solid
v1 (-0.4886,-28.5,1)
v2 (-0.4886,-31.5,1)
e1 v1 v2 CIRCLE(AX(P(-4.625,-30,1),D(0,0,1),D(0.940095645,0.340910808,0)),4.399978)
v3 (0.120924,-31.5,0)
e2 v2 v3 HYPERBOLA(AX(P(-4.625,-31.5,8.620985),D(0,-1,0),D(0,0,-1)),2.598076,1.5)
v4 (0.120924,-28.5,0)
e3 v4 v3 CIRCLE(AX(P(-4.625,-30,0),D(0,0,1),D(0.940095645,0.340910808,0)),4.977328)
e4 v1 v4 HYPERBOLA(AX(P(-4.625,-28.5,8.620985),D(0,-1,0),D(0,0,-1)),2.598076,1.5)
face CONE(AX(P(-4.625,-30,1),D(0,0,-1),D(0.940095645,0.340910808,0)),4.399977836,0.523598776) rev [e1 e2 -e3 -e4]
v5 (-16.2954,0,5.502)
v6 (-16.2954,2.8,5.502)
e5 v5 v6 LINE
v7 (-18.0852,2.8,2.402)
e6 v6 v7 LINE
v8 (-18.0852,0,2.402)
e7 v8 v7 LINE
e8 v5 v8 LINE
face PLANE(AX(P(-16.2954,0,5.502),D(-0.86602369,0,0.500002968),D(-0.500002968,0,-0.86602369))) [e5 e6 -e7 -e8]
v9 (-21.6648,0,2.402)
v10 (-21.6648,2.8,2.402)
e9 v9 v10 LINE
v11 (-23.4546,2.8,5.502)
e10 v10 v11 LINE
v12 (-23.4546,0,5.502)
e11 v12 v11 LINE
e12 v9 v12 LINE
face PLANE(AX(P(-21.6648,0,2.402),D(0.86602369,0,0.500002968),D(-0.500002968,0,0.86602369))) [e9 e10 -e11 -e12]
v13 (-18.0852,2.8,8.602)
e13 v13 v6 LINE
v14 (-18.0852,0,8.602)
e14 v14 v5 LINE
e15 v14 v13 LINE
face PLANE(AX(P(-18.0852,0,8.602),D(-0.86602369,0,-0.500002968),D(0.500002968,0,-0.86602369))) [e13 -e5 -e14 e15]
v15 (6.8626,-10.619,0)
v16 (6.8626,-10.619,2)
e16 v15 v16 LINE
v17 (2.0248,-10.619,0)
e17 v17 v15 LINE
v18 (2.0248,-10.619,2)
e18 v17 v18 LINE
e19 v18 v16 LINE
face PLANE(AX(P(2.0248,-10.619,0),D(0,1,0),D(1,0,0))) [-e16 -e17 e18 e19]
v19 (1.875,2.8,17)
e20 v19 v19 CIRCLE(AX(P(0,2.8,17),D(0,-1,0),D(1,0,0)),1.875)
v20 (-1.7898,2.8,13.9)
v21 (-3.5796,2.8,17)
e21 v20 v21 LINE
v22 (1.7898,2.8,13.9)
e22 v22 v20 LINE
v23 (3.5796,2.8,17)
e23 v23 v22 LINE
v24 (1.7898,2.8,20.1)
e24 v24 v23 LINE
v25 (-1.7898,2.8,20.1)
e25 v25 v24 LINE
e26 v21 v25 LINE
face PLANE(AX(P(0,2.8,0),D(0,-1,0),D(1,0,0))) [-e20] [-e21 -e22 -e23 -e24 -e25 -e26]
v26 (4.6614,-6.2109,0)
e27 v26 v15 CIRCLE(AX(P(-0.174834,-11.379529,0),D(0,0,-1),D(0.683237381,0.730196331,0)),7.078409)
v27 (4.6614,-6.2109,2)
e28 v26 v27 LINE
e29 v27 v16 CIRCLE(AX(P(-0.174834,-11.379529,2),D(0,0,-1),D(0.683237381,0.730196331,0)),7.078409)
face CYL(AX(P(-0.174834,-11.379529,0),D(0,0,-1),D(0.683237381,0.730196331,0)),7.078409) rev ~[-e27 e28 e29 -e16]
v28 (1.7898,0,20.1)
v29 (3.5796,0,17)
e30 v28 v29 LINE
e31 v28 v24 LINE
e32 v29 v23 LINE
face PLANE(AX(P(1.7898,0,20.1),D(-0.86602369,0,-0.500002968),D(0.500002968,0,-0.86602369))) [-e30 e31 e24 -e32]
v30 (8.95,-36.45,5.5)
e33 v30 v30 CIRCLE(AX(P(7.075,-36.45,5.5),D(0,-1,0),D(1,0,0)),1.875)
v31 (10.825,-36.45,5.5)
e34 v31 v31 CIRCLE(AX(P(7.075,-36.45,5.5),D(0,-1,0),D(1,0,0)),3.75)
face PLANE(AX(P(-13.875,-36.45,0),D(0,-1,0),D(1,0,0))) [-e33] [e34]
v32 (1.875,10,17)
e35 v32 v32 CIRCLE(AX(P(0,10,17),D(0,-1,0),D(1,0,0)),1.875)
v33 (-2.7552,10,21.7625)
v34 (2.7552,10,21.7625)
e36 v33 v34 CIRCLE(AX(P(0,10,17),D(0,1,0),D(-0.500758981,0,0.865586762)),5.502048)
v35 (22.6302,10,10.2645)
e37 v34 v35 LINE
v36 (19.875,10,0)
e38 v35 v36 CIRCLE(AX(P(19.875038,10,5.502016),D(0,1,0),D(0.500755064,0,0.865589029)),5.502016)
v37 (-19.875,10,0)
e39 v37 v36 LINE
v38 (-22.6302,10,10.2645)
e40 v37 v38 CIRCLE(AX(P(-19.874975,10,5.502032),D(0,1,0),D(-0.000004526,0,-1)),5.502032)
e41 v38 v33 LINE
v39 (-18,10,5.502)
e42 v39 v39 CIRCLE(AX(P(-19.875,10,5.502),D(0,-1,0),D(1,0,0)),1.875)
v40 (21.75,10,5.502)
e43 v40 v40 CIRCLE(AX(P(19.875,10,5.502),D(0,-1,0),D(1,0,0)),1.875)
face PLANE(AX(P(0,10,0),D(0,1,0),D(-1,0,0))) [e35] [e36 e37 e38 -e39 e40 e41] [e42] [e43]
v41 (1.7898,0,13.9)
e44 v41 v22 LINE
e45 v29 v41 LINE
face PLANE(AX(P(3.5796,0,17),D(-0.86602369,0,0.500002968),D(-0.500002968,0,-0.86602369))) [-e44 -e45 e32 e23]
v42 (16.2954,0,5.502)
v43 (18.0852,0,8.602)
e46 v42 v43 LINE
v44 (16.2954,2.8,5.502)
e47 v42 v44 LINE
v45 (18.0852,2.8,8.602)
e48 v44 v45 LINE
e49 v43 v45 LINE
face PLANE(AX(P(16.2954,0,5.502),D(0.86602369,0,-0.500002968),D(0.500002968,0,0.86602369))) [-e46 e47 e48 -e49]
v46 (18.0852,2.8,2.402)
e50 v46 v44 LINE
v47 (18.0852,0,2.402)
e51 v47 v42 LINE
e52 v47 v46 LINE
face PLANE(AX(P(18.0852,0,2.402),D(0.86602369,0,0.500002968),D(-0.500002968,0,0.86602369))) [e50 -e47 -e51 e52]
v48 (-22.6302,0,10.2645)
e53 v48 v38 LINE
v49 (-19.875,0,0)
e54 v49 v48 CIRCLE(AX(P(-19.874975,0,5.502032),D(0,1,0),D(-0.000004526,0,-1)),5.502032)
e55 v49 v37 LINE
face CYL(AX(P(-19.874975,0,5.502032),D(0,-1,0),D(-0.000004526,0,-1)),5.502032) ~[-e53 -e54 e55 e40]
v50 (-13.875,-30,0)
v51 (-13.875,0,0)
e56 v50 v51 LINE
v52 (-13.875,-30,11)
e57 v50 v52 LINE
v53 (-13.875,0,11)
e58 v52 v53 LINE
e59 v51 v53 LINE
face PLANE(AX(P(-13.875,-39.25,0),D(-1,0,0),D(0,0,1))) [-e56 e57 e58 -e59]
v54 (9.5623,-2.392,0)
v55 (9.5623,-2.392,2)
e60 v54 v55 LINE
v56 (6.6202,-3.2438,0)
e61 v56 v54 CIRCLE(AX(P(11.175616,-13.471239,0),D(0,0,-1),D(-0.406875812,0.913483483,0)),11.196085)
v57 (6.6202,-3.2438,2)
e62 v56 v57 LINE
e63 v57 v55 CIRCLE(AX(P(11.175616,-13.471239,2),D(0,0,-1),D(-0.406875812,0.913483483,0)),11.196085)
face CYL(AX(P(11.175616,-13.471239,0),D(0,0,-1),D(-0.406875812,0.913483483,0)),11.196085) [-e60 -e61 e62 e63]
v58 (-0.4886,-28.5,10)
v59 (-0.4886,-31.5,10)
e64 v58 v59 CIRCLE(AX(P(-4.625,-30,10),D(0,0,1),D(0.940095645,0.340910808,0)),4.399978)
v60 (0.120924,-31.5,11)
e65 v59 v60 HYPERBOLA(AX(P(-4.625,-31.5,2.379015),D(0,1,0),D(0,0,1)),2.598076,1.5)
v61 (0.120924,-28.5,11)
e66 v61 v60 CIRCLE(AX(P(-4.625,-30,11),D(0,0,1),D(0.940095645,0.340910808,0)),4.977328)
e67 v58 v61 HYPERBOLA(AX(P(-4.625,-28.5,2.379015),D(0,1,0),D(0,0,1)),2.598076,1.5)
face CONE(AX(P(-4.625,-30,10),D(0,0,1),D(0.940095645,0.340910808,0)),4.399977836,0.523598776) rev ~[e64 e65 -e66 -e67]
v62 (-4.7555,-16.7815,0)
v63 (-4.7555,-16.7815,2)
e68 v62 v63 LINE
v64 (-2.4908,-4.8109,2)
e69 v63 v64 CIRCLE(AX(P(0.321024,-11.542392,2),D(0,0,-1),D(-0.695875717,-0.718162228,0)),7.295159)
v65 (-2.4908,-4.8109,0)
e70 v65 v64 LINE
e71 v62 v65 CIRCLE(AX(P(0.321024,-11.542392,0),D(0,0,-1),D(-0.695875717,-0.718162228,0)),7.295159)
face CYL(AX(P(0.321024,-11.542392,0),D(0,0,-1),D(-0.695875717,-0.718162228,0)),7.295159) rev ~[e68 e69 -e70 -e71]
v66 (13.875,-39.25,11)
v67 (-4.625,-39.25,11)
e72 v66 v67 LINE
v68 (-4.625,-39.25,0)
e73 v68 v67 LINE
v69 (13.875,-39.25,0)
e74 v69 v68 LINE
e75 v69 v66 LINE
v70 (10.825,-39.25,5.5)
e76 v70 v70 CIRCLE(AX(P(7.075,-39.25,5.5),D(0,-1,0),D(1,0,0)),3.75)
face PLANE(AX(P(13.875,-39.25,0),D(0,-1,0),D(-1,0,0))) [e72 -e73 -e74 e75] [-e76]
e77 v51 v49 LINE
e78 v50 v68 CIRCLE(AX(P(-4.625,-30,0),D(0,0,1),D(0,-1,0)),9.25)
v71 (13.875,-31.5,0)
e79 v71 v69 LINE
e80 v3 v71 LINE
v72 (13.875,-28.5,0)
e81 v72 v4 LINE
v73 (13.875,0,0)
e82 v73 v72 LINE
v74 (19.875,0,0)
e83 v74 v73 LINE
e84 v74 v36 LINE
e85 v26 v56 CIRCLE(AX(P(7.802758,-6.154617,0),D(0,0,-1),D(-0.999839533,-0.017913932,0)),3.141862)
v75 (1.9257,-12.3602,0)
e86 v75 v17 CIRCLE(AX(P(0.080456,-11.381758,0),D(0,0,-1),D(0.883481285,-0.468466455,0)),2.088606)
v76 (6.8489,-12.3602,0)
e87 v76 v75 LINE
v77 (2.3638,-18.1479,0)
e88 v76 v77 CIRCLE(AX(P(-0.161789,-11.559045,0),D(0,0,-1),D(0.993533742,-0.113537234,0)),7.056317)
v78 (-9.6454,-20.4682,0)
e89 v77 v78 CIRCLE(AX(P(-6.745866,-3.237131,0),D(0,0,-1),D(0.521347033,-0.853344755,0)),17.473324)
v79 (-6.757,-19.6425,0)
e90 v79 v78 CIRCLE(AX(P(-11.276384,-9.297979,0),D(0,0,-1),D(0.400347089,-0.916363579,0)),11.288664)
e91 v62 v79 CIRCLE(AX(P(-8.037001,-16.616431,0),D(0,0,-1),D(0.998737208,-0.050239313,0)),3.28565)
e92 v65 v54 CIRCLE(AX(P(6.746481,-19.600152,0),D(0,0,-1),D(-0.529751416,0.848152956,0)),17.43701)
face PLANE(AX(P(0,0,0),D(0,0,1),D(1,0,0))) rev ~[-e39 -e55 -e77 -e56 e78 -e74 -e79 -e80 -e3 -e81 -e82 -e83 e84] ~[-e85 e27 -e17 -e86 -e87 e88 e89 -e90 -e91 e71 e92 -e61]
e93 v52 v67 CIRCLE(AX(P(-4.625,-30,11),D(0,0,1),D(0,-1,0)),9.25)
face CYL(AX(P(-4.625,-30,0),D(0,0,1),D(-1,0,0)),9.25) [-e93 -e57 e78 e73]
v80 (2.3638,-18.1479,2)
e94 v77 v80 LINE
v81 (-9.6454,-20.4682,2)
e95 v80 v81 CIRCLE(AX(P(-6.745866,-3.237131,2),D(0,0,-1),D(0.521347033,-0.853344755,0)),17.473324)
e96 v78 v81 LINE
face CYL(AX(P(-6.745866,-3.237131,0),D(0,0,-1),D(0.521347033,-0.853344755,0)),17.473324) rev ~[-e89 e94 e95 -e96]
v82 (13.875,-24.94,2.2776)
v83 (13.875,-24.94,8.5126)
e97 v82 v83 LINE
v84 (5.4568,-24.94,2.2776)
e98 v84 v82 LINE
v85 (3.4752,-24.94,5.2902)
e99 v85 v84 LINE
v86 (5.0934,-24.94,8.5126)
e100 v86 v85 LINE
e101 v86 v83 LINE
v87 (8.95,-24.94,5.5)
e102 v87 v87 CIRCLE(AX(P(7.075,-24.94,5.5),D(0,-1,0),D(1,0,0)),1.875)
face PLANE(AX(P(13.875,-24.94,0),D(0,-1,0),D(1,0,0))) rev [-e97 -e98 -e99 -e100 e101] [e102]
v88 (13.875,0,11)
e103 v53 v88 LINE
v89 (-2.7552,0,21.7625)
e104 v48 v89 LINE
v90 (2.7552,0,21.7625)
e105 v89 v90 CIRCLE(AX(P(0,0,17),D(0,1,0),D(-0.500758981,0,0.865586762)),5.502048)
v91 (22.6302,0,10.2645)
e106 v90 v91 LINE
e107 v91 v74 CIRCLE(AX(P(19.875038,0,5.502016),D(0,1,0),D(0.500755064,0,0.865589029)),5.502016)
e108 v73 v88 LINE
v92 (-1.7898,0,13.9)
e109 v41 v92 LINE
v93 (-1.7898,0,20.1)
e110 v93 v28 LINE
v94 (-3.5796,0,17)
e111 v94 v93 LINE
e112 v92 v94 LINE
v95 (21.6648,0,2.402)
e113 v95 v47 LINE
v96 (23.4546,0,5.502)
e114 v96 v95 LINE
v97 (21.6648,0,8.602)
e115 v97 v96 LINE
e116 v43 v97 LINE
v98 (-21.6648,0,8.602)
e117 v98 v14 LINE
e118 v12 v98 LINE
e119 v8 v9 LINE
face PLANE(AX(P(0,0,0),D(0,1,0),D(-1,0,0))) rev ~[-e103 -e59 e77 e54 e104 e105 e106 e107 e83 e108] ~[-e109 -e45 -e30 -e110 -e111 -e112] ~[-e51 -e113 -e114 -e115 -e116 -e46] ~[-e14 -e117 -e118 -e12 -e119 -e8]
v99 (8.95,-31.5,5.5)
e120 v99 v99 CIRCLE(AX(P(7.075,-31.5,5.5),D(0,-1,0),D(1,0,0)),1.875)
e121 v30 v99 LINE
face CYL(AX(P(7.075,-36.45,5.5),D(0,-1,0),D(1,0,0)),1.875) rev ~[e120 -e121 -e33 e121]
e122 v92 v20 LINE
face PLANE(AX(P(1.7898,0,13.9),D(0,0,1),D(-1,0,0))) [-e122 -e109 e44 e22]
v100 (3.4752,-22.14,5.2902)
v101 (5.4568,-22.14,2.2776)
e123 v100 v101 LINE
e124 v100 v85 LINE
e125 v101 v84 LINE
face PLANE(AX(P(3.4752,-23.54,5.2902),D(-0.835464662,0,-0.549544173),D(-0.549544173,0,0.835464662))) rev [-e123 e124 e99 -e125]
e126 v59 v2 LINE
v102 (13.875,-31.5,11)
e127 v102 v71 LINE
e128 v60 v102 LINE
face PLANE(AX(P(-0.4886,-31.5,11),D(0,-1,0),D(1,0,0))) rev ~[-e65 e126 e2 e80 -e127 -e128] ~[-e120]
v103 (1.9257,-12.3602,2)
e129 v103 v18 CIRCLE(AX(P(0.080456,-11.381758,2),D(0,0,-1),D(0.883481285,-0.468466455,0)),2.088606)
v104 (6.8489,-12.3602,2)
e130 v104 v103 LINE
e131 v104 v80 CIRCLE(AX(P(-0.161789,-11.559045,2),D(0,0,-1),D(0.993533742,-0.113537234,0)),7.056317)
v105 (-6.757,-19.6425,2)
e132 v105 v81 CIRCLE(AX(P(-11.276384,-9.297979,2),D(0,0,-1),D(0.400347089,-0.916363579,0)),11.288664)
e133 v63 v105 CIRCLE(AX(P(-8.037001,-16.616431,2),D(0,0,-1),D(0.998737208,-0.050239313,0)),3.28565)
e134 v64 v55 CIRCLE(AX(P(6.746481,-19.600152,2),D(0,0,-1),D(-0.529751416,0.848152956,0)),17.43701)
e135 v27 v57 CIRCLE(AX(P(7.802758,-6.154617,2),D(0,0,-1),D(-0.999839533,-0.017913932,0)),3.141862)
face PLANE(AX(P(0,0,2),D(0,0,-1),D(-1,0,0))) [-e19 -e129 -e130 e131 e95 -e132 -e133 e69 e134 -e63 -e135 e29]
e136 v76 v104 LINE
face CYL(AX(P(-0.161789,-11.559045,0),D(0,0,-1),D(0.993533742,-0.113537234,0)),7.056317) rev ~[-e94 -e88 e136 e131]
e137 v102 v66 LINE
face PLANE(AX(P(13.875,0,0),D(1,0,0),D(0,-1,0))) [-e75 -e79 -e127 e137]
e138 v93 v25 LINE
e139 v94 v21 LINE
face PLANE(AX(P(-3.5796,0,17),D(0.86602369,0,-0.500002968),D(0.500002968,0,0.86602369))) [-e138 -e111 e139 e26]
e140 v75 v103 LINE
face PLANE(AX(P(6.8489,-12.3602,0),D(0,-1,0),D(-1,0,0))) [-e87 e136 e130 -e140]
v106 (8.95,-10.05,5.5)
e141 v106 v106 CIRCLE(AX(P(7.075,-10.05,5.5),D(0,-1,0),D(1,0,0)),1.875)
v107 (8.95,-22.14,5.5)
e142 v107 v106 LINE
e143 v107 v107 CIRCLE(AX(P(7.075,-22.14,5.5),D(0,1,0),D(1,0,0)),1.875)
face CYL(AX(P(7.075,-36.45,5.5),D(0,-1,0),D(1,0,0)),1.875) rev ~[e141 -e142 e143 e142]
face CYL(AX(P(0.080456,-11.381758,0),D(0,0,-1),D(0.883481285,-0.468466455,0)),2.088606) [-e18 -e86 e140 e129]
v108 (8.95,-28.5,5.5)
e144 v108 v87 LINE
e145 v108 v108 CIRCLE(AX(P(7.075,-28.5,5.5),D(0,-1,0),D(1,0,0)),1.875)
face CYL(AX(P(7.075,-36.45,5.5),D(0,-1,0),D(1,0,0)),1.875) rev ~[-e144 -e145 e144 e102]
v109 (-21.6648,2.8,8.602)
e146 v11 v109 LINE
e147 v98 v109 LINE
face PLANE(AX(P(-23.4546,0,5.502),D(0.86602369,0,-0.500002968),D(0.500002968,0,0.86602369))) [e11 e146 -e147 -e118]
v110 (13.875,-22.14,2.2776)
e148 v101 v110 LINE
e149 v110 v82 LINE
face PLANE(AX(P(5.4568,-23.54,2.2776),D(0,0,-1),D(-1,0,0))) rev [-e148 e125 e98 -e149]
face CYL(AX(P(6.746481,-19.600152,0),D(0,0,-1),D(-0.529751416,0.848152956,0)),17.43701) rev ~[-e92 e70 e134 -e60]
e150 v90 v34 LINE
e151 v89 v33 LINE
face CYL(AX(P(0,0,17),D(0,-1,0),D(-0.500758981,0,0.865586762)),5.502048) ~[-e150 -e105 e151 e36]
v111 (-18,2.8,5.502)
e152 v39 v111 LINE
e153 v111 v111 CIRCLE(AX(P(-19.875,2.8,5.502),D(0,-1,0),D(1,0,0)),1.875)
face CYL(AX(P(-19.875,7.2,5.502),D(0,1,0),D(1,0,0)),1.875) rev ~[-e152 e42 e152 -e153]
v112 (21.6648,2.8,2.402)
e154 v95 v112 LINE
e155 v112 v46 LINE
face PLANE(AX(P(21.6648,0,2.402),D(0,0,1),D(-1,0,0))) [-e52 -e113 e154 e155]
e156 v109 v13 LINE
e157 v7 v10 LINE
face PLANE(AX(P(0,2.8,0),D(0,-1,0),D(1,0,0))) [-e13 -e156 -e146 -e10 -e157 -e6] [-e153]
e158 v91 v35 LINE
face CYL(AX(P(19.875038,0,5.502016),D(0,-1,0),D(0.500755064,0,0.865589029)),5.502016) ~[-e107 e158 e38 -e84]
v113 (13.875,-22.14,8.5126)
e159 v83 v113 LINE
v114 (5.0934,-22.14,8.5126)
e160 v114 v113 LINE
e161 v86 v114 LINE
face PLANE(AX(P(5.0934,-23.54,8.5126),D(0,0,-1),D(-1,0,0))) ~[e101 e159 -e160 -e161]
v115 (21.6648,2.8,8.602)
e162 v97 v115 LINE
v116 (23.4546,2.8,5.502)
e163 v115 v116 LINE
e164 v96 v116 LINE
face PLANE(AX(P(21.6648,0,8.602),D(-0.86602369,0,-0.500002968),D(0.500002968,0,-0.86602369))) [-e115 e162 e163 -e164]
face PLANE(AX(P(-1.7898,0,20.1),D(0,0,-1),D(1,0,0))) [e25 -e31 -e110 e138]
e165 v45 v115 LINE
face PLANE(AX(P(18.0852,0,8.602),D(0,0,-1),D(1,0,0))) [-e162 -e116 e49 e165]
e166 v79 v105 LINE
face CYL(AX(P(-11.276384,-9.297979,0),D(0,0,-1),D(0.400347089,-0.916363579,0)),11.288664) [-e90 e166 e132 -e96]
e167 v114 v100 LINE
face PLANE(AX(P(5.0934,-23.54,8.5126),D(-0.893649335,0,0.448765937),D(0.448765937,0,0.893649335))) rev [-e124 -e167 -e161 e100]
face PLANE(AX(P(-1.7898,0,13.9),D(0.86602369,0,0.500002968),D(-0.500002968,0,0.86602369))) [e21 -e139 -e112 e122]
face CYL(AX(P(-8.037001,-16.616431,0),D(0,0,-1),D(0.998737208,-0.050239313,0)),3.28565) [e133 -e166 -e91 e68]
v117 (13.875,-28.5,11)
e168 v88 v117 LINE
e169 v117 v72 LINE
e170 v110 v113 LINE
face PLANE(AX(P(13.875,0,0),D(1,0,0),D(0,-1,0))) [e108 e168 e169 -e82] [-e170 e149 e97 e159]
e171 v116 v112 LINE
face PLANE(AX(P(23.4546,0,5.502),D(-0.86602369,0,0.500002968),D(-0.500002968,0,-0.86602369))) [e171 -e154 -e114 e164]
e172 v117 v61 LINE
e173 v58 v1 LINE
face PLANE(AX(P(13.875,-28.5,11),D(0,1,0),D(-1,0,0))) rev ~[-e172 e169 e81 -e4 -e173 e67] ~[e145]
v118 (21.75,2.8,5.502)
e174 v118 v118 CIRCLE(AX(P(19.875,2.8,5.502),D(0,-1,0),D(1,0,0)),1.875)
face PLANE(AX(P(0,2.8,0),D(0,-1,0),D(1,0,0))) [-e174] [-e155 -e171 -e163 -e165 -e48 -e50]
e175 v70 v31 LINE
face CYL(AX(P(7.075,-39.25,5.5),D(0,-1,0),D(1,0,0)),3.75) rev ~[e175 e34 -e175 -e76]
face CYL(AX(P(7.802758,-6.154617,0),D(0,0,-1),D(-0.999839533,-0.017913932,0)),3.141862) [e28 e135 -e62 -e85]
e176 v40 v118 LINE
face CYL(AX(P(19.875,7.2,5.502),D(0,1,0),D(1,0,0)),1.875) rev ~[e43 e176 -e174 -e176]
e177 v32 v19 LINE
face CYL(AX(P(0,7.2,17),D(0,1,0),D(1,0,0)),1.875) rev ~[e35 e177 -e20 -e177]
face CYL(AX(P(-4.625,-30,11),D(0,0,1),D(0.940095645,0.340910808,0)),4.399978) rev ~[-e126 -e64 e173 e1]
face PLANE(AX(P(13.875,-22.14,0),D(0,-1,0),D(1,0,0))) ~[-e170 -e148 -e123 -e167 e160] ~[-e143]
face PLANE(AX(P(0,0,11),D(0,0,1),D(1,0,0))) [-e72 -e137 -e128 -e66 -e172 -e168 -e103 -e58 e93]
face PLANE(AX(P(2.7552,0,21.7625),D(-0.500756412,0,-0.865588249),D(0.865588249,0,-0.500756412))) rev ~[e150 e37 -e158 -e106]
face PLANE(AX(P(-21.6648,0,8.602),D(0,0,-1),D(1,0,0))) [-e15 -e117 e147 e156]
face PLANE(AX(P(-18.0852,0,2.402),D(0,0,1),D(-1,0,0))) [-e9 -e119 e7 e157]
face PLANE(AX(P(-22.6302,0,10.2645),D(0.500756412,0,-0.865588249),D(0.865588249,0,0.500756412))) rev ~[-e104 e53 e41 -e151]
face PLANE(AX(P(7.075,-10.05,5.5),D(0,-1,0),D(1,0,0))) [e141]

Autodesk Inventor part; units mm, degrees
sketch "Boceto1" plane through (0, 0, 0) normal (0, 0, 1) x (1, 0, 0)
  line L0 (-13.875, 0) -> (13.875, 0)
  line L1 (13.875, 0) -> (13.875, -39.25)
  line L2 (13.875, -39.25) -> (-13.875, -39.25)
  line L3 (-13.875, -39.25) -> (-13.875, 0)
  point P0 (0, 0)
  point P1 (0, 0)
  dimension "d0" = 27.75
  dimension "d1" = 39.25
extrude "Extrusión1" add sketch "Boceto1" along normal blind 11
sketch "Boceto3" plane through (0, 0, 0) normal (0, 1, 0) x (-1, 0, 0)
  line L0 (-19.875, 0) -> (19.875, 0)
  line L1 (22.6302, 10.2645) -> (2.7552, 21.7625)
  line L2 (-2.7552, 21.7625) -> (-22.6302, 10.2645)
  line L3 (13.875, 0) -> (-13.875, 0) projected
  arc A0 (-22.6302, 10.2645) -> (-19.875, 0) centre (-19.875, 5.502) ccw
  arc A1 (19.875, 0) -> (22.6302, 10.2645) centre (19.875, 5.502) ccw
  arc A2 (2.7552, 21.7625) -> (-2.7552, 21.7625) centre (0, 17) ccw
  point P0 (0, 0)
  point P1 (0, 23.3564)
  point P2 (0, 0)
  point P3 (0, 0)
  point P4 (0, 0)
  point P5 (0, 0)
  dimension "d21" = 30.05
  dimension "d23" = 39.75
  dimension "d25" = 17
extrude "Extrusión3" add sketch "Boceto3" along normal blind 10
ref_plane "Plano de trabajo2" through (0, 7.2, 0) normal (0, 1, 0) x (1, 0, 0)
sketch "Boceto5" plane through (0, 7.2, 0) normal (0, 1, 0) x (1, 0, 0)
  line L0 (19.875, 0) -> (-19.875, 0) projected
  arc A0 (-19.875, 0) -> (-22.6302, -10.2645) centre (-19.875, -5.502) ccw projected
  line L1 (-22.6302, -10.2645) -> (-2.7552, -21.7625) projected
  arc A1 (-2.7552, -21.7625) -> (2.7552, -21.7625) centre (0, -17) ccw projected
  line L2 (2.7552, -21.7625) -> (22.6302, -10.2645) projected
  arc A2 (22.6302, -10.2645) -> (19.875, 0) centre (19.875, -5.502) ccw projected
  circle A3 centre (19.875, -5.502) radius 1.875
  circle A4 centre (0, -17) radius 1.875
  circle A5 centre (-19.875, -5.502) radius 1.875
  point P0 (0, 0)
  dimension "d33" = 3.75
  dimension "d34" = 3.75
  dimension "d35" = 3.75
extrude "Extrusión5" cut sketch "Boceto5" along normal through all both and the other way through all contours A3 | A4 | A5
sketch "Boceto6" plane through (0, 0, 0) normal (0, -1, 0) x (1, 0, 0)
  circle A0 centre (0, 17) radius 1.875 projected
  circle A1 centre (19.875, 5.502) radius 1.875 projected
  circle A2 centre (-19.875, 5.502) radius 1.875 projected
  line L0 (13.875, 0) -> (13.875, 11) projected
  line L1 (19.875, 0) -> (13.875, 0) projected
  arc A3 (19.875, 0) -> (22.6302, 10.2645) centre (19.875, 5.502) ccw projected
  line L2 (2.7552, 21.7625) -> (22.6302, 10.2645) projected
  arc A4 (2.7552, 21.7625) -> (-2.7552, 21.7625) centre (0, 17) ccw projected
  line L3 (-22.6302, 10.2645) -> (-2.7552, 21.7625) projected
  arc A5 (-22.6302, 10.2645) -> (-19.875, 0) centre (-19.875, 5.502) ccw projected
  line L4 (-13.875, 0) -> (-19.875, 0) projected
  line L5 (-13.875, 0) -> (-13.875, 11) projected
  line L6 (13.875, 11) -> (-13.875, 11) projected
  line L7 (-18.0852, 8.602) -> (-16.2954, 5.502)
  line L8 (-16.2954, 5.502) -> (-18.0852, 2.402)
  line L9 (-18.0852, 2.402) -> (-21.6648, 2.402)
  line L10 (-21.6648, 2.402) -> (-23.4546, 5.502)
  line L11 (-23.4546, 5.502) -> (-21.6648, 8.602)
  line L12 (-21.6648, 8.602) -> (-18.0852, 8.602)
  line L13 (1.7898, 20.1) -> (3.5796, 17)
  line L14 (3.5796, 17) -> (1.7898, 13.9)
  line L15 (1.7898, 13.9) -> (-1.7898, 13.9)
  line L16 (-1.7898, 13.9) -> (-3.5796, 17)
  line L17 (-3.5796, 17) -> (-1.7898, 20.1)
  line L18 (-1.7898, 20.1) -> (1.7898, 20.1)
  line L19 (18.0852, 8.602) -> (21.6648, 8.602)
  line L20 (21.6648, 8.602) -> (23.4546, 5.502)
  line L21 (23.4546, 5.502) -> (21.6648, 2.402)
  line L22 (21.6648, 2.402) -> (18.0852, 2.402)
  line L23 (18.0852, 2.402) -> (16.2954, 5.502)
  line L24 (16.2954, 5.502) -> (18.0852, 8.602)
  point P0 (0, 0)
  dimension "d38" = 6.2
  dimension "d39" = 6.2
  dimension "d40" = 6.2
extrude "Extrusión6" cut sketch "Boceto6" against normal blind 2.8 contours L7 L8 L9 L10 L11 L12 | L13 L14 L15 L16 L17 L18 | L19 L20 L21 L22 L23 L24
ref_plane "Plano de trabajo3" through (-13.875, -23.54, 0) normal (0, -1, 0) x (1, 0, 0)
sketch "Boceto9" plane through (-13.875, -23.54, 0) normal (0, -1, 0) x (1, 0, 0)
  circle A0 centre (6.8, 5.5) radius 1.875 projected
  line L0 (27.75, 11) -> (0, 11) projected
  line L1 (0, 0) -> (0, 11) projected
  line L2 (-21.6528, 0) -> (49.4028, 0) projected
  line L3 (8.7816, 8.5126) -> (10.3998, 5.2902)
  line L4 (10.3998, 5.2902) -> (8.4182, 2.2776)
  line L5 (8.7816, 8.5126) -> (0, 8.5126)
  line L6 (8.4182, 2.2776) -> (0, 2.2776)
  point P0 (13.875, 0)
  dimension "d53" = 120
  dimension "d56" = 6.235
  dimension "d57" = 8.7816
extrude "Extrusión9" cut sketch "Boceto9" along normal mid plane 2.8
sketch "Boceto10" plane through (0, 0, 11) normal (0, 0, 1) x (1, 0, 0)
  line L0 (13.875, -39.25) -> (13.875, 0) projected
  line L1 (-13.875, -39.25) -> (13.875, -39.25) projected
  line L2 (13.875, -28.5) -> (-0.4886, -28.5)
  arc A0 (-0.4886, -28.5) -> (-0.4886, -31.5) centre (-4.625, -30) ccw
  line L3 (-0.4886, -31.5) -> (13.875, -31.5)
  line L4 (-13.875, 0) -> (-13.875, -39.25) projected
  point P0 (0, 0)
  point P1 (-9.025, -30)
  point P2 (-5.7641, -34.25)
  dimension "d60" = 1.5
  dimension "d61" = 5
  dimension "d63" = 7.75
  dimension "d64" = 4.4
  dimension "d89" = 18.5
extrude "Extrusión10" cut sketch "Boceto10" against normal through all
mirror "Simetría1" about plane through (0, 0, 0) normal (1, 0, 0) of "Extrusión9"
sketch "Boceto11" plane through (-13.875, -39.25, 0) normal (-1, 0, 0) x (0, 0, 1)
  line L0 (8.5126, 14.31) -> (2.2776, 14.31) projected
  line L1 (8.5126, 17.11) -> (8.5126, 14.31) projected
  line L2 (2.2776, 17.11) -> (8.5126, 17.11) projected
  line L3 (2.2776, 14.31) -> (2.2776, 17.11) projected
  point P0 (0, 39.25)
extrude "Extrusión11" add sketch "Boceto11" against normal up to surface (13.875 mm away)
sketch "Boceto12" plane through (-13.875, -39.25, 0) normal (0, -1, 0) x (1, 0, 0)
  circle A0 centre (20.95, 5.5) radius 3.75
  line L0 (27.75, 0) -> (0, 0) projected
  line L1 (27.75, 0) -> (27.75, 11) projected
  point P0 (13.875, 0)
  dimension "d69" = 7.5
  dimension "d70" = 5.5
  dimension "d71" = 6.8
extrude "Extrusión12" cut sketch "Boceto12" against normal blind 2.8
sketch "Boceto13" plane through (7.075, -36.45, 5.5) normal (0, -1, 0) x (1, 0, 0)
  circle A0 centre (0, 0) radius 3.75 projected
  circle A1 centre (0, 0) radius 1.875
  point P0 (-7.075, -5.5)
  dimension "d74" = 3.75
extrude "Extrusión13" cut sketch "Boceto13" against normal blind 26.4 contours A1
sketch "Boceto14" plane through (0, 0, 0) normal (0, 0, -1) x (-1, 0, 0)
  line L0 (-79.864, -2.1129) -> (-78.9328, -2.1294) construction
  line L1 (-78.9328, -2.1294) -> (-77.7481, -2.2424) construction
  line L2 (-77.7481, -2.2424) -> (-76.5607, -2.4242) construction
  line L3 (-76.5607, -2.4242) -> (-75.3898, -2.6722) construction
  line L4 (-75.3898, -2.6722) -> (-74.2548, -2.9807) construction
  line L5 (-74.3358, -2.9942) -> (-73.2531, -3.3578) construction
  line L6 (-73.2531, -3.3578) -> (-72.242, -3.7683) construction
  line L7 (-72.242, -3.7683) -> (-71.3191, -4.2229) construction
  line L8 (-71.3191, -4.2229) -> (-70.5036, -4.7161) construction
  line L9 (-70.5036, -4.7161) -> (-70.3383, -4.8318) construction
  line L10 (-70.3464, -4.7635) -> (-69.8588, -4.9674) construction
  line L11 (-69.8588, -4.9674) -> (-69.3904, -5.2098) construction
  line L12 (-69.3904, -5.2098) -> (-68.9441, -5.4853) construction
  line L13 (-68.9441, -5.4853) -> (-68.5198, -5.7939) construction
  line L14 (-68.5198, -5.7939) -> (-67.7457, -6.4992) construction
  line L15 (-67.7457, -6.4992) -> (-67.0817, -7.3174) construction
  line L16 (-67.0817, -7.3174) -> (-66.798, -7.761) construction
  line L17 (-66.798, -7.761) -> (-66.5445, -8.2293) construction
  line L18 (-66.5445, -8.2293) -> (-66.3269, -8.717) construction
  line L19 (-66.3269, -8.717) -> (-66.1423, -9.2267) construction
  line L20 (-66.1423, -9.2267) -> (-65.999, -9.7501) construction
  line L21 (-65.999, -9.7501) -> (-65.8834, -10.3584) construction
  line L22 (-65.8834, -10.3584) -> (-65.8614, -10.5512) construction
  line L23 (-65.8614, -10.5512) -> (-70.7846, -10.5512) construction
  line L24 (-70.7846, -10.5512) -> (-70.881, -10.3694) construction
  line L25 (-70.881, -10.3694) -> (-71.1345, -10.0663) construction
  line L26 (-71.1345, -10.0663) -> (-71.4375, -9.8129) construction
  line L27 (-71.4375, -9.8129) -> (-71.7874, -9.6255) construction
  line L28 (-71.7874, -9.6255) -> (-72.1731, -9.5043) construction
  line L29 (-72.1731, -9.5043) -> (-72.5864, -9.463) construction
  line L30 (-72.5864, -9.463) -> (-72.9996, -9.5043) construction
  line L31 (-72.9996, -9.5043) -> (-73.3853, -9.6255) construction
  line L32 (-73.3853, -9.6255) -> (-73.7352, -9.8129) construction
  line L33 (-73.7352, -9.8129) -> (-74.0383, -10.0663) construction
  line L34 (-74.0383, -10.0663) -> (-74.2917, -10.3694) construction
  line L35 (-74.2917, -10.3694) -> (-74.4791, -10.7193) construction
  line L36 (-74.4791, -10.7193) -> (-74.6003, -11.105) construction
  line L37 (-74.6003, -11.105) -> (-74.6416, -11.5182) construction
  line L38 (-74.6416, -11.5182) -> (-74.6003, -11.9315) construction
  line L39 (-74.6003, -11.9315) -> (-74.4791, -12.3172) construction
  line L40 (-74.4791, -12.3172) -> (-74.2917, -12.6671) construction
  line L41 (-74.2917, -12.6671) -> (-74.0383, -12.9701) construction
  line L42 (-74.0383, -12.9701) -> (-73.7352, -13.2209) construction
  line L43 (-73.7352, -13.2209) -> (-73.3853, -13.4109) construction
  line L44 (-73.3853, -13.4109) -> (-72.9996, -13.5294) construction
  line L45 (-72.9996, -13.5294) -> (-72.5864, -13.5707) construction
  line L46 (-72.5864, -13.5707) -> (-72.1731, -13.5294) construction
  line L47 (-72.1731, -13.5294) -> (-71.7874, -13.4109) construction
  line L48 (-71.7874, -13.4109) -> (-71.4375, -13.2209) construction
  line L49 (-71.4375, -13.2209) -> (-71.1345, -12.9701) construction
  line L50 (-71.1345, -12.9701) -> (-70.881, -12.6671) construction
  line L51 (-70.881, -12.6671) -> (-70.6937, -12.3172) construction
  line L52 (-70.6937, -12.3172) -> (-70.6854, -12.2924) construction
  line L53 (-70.6854, -12.2924) -> (-65.8476, -12.2924) construction
  line L54 (-65.8476, -12.2924) -> (-65.9551, -12.9839) construction
  line L55 (-65.9551, -12.9839) -> (-66.1452, -13.6975) construction
  line L56 (-66.1452, -13.6975) -> (-66.4041, -14.378) construction
  line L57 (-66.4041, -14.378) -> (-66.7292, -15.0254) construction
  line L58 (-66.7292, -15.0254) -> (-67.1149, -15.6287) construction
  line L59 (-67.1149, -15.6287) -> (-67.5557, -16.188) construction
  line L60 (-67.5557, -16.188) -> (-68.0489, -16.7004) construction
  line L61 (-68.0489, -16.7004) -> (-68.0379, -16.8327) construction
  line L62 (-68.0379, -16.8327) -> (-67.9772, -17.3561) construction
  line L63 (-67.9772, -17.3561) -> (-67.8726, -17.7914) construction
  line L64 (-67.8726, -17.7914) -> (-67.71, -18.1771) construction
  line L65 (-67.71, -18.1771) -> (-67.4786, -18.5518) construction
  line L66 (-67.4786, -18.5518) -> (-67.1425, -18.9293) construction
  line L67 (-67.1425, -18.9293) -> (-66.7485, -19.2709) construction
  line L68 (-66.7485, -19.2709) -> (-66.0901, -19.6676) construction
  line L69 (-66.0901, -19.6676) -> (-65.3197, -19.9962) construction
  line L70 (-65.3197, -19.9962) -> (-64.4161, -20.2635) construction
  line L71 (-64.4161, -20.2635) -> (-63.3526, -20.4784) construction
  line L72 (-63.3526, -20.4784) -> (-63.1479, -20.5194) construction
  line L73 (-63.1479, -20.5194) -> (-63.1892, -20.5552) construction
  line L74 (-63.1892, -20.5552) -> (-63.8394, -20.7123) construction
  line L75 (-63.8394, -20.7123) -> (-64.6549, -20.8169) construction
  line L76 (-64.6549, -20.8169) -> (-66.4897, -20.8169) construction
  line L77 (-66.4897, -20.8169) -> (-67.6772, -20.704) construction
  line L78 (-67.6772, -20.704) -> (-68.8646, -20.5222) construction
  line L79 (-68.8646, -20.5222) -> (-70.0354, -20.2742) construction
  line L80 (-70.0354, -20.2742) -> (-71.1705, -19.9656) construction
  line L81 (-71.1705, -19.9656) -> (-72.2532, -19.602) construction
  line L82 (-72.2532, -19.602) -> (-73.2643, -19.1915) construction
  line L83 (-73.2643, -19.1915) -> (-74.1872, -18.7369) construction
  line L84 (-74.1872, -18.7369) -> (-75.0027, -18.2438) construction
  line L85 (-75.0027, -18.2438) -> (-75.2011, -18.1005) construction
  line L86 (-75.2011, -18.1005) -> (-75.6805, -17.8911) construction
  line L87 (-75.6805, -17.8911) -> (-76.1433, -17.6487) construction
  line L88 (-76.1433, -17.6487) -> (-77.0001, -17.0618) construction
  line L89 (-77.0001, -17.0618) -> (-77.7605, -16.3566) construction
  line L90 (-77.7605, -16.3566) -> (-78.4134, -15.5438) construction
  line L91 (-78.4134, -15.5438) -> (-78.9424, -14.6347) construction
  line L92 (-78.9424, -14.6347) -> (-79.1573, -14.1498) construction
  line L93 (-79.1573, -14.1498) -> (-79.3364, -13.6456) construction
  line L94 (-79.3364, -13.6456) -> (-79.4796, -13.1277) construction
  line L95 (-79.4796, -13.1277) -> (-79.5816, -12.5904) construction
  line L96 (-79.5816, -12.5904) -> (-79.6449, -12.0422) construction
  line L97 (-79.6449, -12.0422) -> (-79.667, -11.4801) construction
  line L98 (-79.667, -11.4801) -> (-79.6284, -10.7225) construction
  line L99 (-79.6284, -10.7225) -> (-79.5127, -9.9869) construction
  line L100 (-79.5127, -9.9869) -> (-79.3253, -9.2816) construction
  line L101 (-79.3253, -9.2816) -> (-79.0691, -8.6067) construction
  line L102 (-79.0691, -8.6067) -> (-78.7495, -7.9647) construction
  line L103 (-78.7495, -7.9647) -> (-78.3721, -7.3641) construction
  line L104 (-78.3721, -7.3641) -> (-77.9368, -6.8076) construction
  line L105 (-77.9368, -6.8076) -> (-77.4519, -6.2979) construction
  line L106 (-77.4519, -6.2979) -> (-77.4657, -6.1299) construction
  line L107 (-77.4657, -6.1299) -> (-77.5263, -5.6064) construction
  line L108 (-77.5263, -5.6064) -> (-77.6338, -5.1711) construction
  line L109 (-77.6338, -5.1711) -> (-77.7963, -4.7854) construction
  line L110 (-77.7963, -4.7854) -> (-78.0277, -4.4108) construction
  line L111 (-78.0277, -4.4108) -> (-78.3638, -4.0333) construction
  line L112 (-78.3638, -4.0333) -> (-78.8088, -3.6656) construction
  line L113 (-78.8088, -3.6656) -> (-79.4673, -3.2689) construction
  line L114 (-79.4673, -3.2689) -> (-80.1819, -2.9666) construction
  line L115 (-80.1819, -2.9666) -> (-81.0856, -2.6994) construction
  line L116 (-81.0856, -2.6994) -> (-82.149, -2.4845) construction
  line L117 (-82.149, -2.4845) -> (-82.3556, -2.4432) construction
  line L118 (-82.3556, -2.4432) -> (-82.3143, -2.4074) construction
  line L119 (-82.3143, -2.4074) -> (-81.6641, -2.2503) construction
  line L120 (-81.6641, -2.2503) -> (-80.8487, -2.1456) construction
  line L121 (-80.8487, -2.1456) -> (-79.945, -2.1264) construction
  line L122 (-65.8614, -10.5512) -> (-70.7846, -10.5512)
  arc A0 (-70.7846, -10.5512) -> (-70.6854, -12.2924) centre (-72.6298, -11.5297) ccw
  line L123 (-70.6854, -12.2924) -> (-65.8476, -12.2924)
  arc A1 (-68.0489, -16.7004) -> (-65.8476, -12.2924) centre (-72.8859, -11.5313) ccw
  arc A2 (-68.0489, -16.7004) -> (-66.0901, -19.6676) centre (-64.9076, -16.7568) ccw
  arc A3 (-66.0901, -19.6676) -> (-63.1479, -20.5194) centre (-61.5351, -9.4412) ccw
  arc A4 (-75.2011, -18.1005) -> (-63.1479, -20.5194) centre (-65.9638, -3.3112) ccw
  arc A5 (-77.4657, -6.1299) -> (-75.2011, -18.1005) centre (-72.3892, -11.369) ccw
  arc A6 (-77.4657, -6.1299) -> (-79.4673, -3.2689) centre (-80.7471, -6.2949) ccw
  arc A7 (-79.4673, -3.2689) -> (-82.3556, -2.4432) centre (-83.987, -13.6143) ccw
  arc A8 (-70.3464, -4.7635) -> (-82.3556, -2.4432) centre (-79.4561, -19.6741) ccw
  arc A9 (-65.8614, -10.5512) -> (-70.3464, -4.7635) centre (-72.8722, -11.3524) ccw
  line L124 (-50.6216, 1.1163) -> (-50.6216, -28.8837)
  line L125 (-50.6216, 1.1163) -> (-20.6216, 1.1163) construction
  line L126 (-36.3657, -2.4242) -> (-37.5366, -2.6722) construction
  line L127 (-40.6844, -3.7683) -> (-41.6073, -4.2229) construction
  line L128 (-39.6733, -3.3578) -> (-40.6844, -3.7683) construction
  line L129 (-38.5906, -2.9942) -> (-39.6733, -3.3578) construction
  line L130 (-37.5366, -2.6722) -> (-38.6716, -2.9807) construction
  line L131 (-41.6073, -4.2229) -> (-42.4228, -4.7161) construction
  line L132 (-42.4228, -4.7161) -> (-42.5881, -4.8318) construction
  line L133 (-42.58, -4.7635) -> (-43.0676, -4.9674) construction
  line L134 (-43.0676, -4.9674) -> (-43.536, -5.2098) construction
  line L135 (-43.536, -5.2098) -> (-43.9823, -5.4853) construction
  line L136 (-43.9823, -5.4853) -> (-44.4066, -5.7939) construction
  line L137 (-44.4066, -5.7939) -> (-45.1807, -6.4992) construction
  line L138 (-45.1807, -6.4992) -> (-45.8447, -7.3174) construction
  line L139 (-45.8447, -7.3174) -> (-46.1284, -7.761) construction
  line L140 (-46.1284, -7.761) -> (-46.3819, -8.2293) construction
  line L141 (-46.3819, -8.2293) -> (-46.5995, -8.717) construction
  line L142 (-46.5995, -8.717) -> (-46.7841, -9.2267) construction
  line L143 (-46.7841, -9.2267) -> (-46.9274, -9.7501) construction
  line L144 (-46.9274, -9.7501) -> (-47.043, -10.3584) construction
  line L145 (-47.043, -10.3584) -> (-47.065, -10.5512) construction
  line L146 (-42.1418, -10.5512) -> (-42.0454, -10.3694) construction
  line L147 (-40.7533, -9.5043) -> (-40.34, -9.463) construction
  line L148 (-41.139, -9.6255) -> (-40.7533, -9.5043) construction
  line L149 (-41.4889, -9.8129) -> (-41.139, -9.6255) construction
  line L150 (-41.7919, -10.0663) -> (-41.4889, -9.8129) construction
  line L151 (-42.0454, -10.3694) -> (-41.7919, -10.0663) construction
  line L152 (-38.3261, -11.105) -> (-38.2848, -11.5182) construction
  line L153 (-38.2848, -11.5182) -> (-38.3261, -11.9315) construction
  line L154 (-38.3261, -11.9315) -> (-38.4473, -12.3172) construction
  line L155 (-38.4473, -12.3172) -> (-38.6347, -12.6671) construction
  line L156 (-38.4473, -10.7193) -> (-38.3261, -11.105) construction
  line L157 (-38.6347, -12.6671) -> (-38.8881, -12.9701) construction
  line L158 (-38.8881, -12.9701) -> (-39.1912, -13.2209) construction
  line L159 (-39.5411, -13.4109) -> (-39.9268, -13.5294) construction
  line L160 (-39.9268, -13.5294) -> (-40.34, -13.5707) construction
  line L161 (-40.34, -13.5707) -> (-40.7533, -13.5294) construction
  line L162 (-39.1912, -13.2209) -> (-39.5411, -13.4109) construction
  line L163 (-40.7533, -13.5294) -> (-41.139, -13.4109) construction
  line L164 (-41.139, -13.4109) -> (-41.4889, -13.2209) construction
  line L165 (-41.4889, -13.2209) -> (-41.7919, -12.9701) construction
  line L166 (-41.7919, -12.9701) -> (-42.0454, -12.6671) construction
  line L167 (-42.0454, -12.6671) -> (-42.2327, -12.3172) construction
  line L168 (-42.2327, -12.3172) -> (-42.241, -12.2924) construction
  line L169 (-47.0788, -12.2924) -> (-46.9713, -12.9839) construction
  line L170 (-46.9713, -12.9839) -> (-46.7812, -13.6975) construction
  line L171 (-46.7812, -13.6975) -> (-46.5223, -14.378) construction
  line L172 (-46.5223, -14.378) -> (-46.1972, -15.0254) construction
  line L173 (-42.241, -12.2924) -> (-47.0788, -12.2924) construction
  line L174 (-47.065, -10.5512) -> (-42.1418, -10.5512) construction
  line L175 (-46.1972, -15.0254) -> (-45.8115, -15.6287) construction
  line L176 (-45.8115, -15.6287) -> (-45.3707, -16.188) construction
  line L177 (-45.3707, -16.188) -> (-44.8775, -16.7004) construction
  line L178 (-44.8885, -16.8327) -> (-44.9492, -17.3561) construction
  line L179 (-44.9492, -17.3561) -> (-45.0538, -17.7914) construction
  line L180 (-45.0538, -17.7914) -> (-45.2164, -18.1771) construction
  line L181 (-44.8775, -16.7004) -> (-44.8885, -16.8327) construction
  line L182 (-45.2164, -18.1771) -> (-45.4478, -18.5518) construction
  line L183 (-45.4478, -18.5518) -> (-45.7839, -18.9293) construction
  line L184 (-45.7839, -18.9293) -> (-46.1779, -19.2709) construction
  line L185 (-44.0618, -20.5222) -> (-42.891, -20.2742) construction
  line L186 (-45.2492, -20.704) -> (-44.0618, -20.5222) construction
  line L187 (-46.4367, -20.8169) -> (-45.2492, -20.704) construction
  line L188 (-40.34, -9.463) -> (-39.9268, -9.5043) construction
  line L189 (-39.9268, -9.5043) -> (-39.5411, -9.6255) construction
  line L190 (-39.5411, -9.6255) -> (-39.1912, -9.8129) construction
  line L191 (-39.1912, -9.8129) -> (-38.8881, -10.0663) construction
  line L192 (-38.8881, -10.0663) -> (-38.6347, -10.3694) construction
  line L193 (-38.6347, -10.3694) -> (-38.4473, -10.7193) construction
  line L194 (-42.891, -20.2742) -> (-41.7559, -19.9656) construction
  line L195 (-41.7559, -19.9656) -> (-40.6732, -19.602) construction
  line L196 (-40.6732, -19.602) -> (-39.6621, -19.1915) construction
  line L197 (-39.6621, -19.1915) -> (-38.7392, -18.7369) construction
  line L198 (-37.9237, -18.2438) -> (-37.7253, -18.1005) construction
  line L199 (-37.7253, -18.1005) -> (-37.2459, -17.8911) construction
  line L200 (-38.7392, -18.7369) -> (-37.9237, -18.2438) construction
  line L201 (-37.2459, -17.8911) -> (-36.7831, -17.6487) construction
  line L202 (-36.7831, -17.6487) -> (-35.9263, -17.0618) construction
  line L203 (-35.9263, -17.0618) -> (-35.1659, -16.3566) construction
  line L204 (-35.1659, -16.3566) -> (-34.513, -15.5438) construction
  line L205 (-34.513, -15.5438) -> (-33.984, -14.6347) construction
  line L206 (-33.984, -14.6347) -> (-33.7691, -14.1498) construction
  line L207 (-33.7691, -14.1498) -> (-33.59, -13.6456) construction
  line L208 (-33.59, -13.6456) -> (-33.4468, -13.1277) construction
  line L209 (-33.4468, -13.1277) -> (-33.3448, -12.5904) construction
  line L210 (-33.3448, -12.5904) -> (-33.2815, -12.0422) construction
  line L211 (-33.2815, -12.0422) -> (-33.2594, -11.4801) construction
  line L212 (-33.2594, -11.4801) -> (-33.298, -10.7225) construction
  line L213 (-33.298, -10.7225) -> (-33.4137, -9.9869) construction
  line L214 (-33.4137, -9.9869) -> (-33.6011, -9.2816) construction
  line L215 (-33.6011, -9.2816) -> (-33.8573, -8.6067) construction
  line L216 (-33.8573, -8.6067) -> (-34.1769, -7.9647) construction
  line L217 (-34.1769, -7.9647) -> (-34.5543, -7.3641) construction
  line L218 (-34.5543, -7.3641) -> (-34.9896, -6.8076) construction
  line L219 (-33.9936, -2.1294) -> (-35.1783, -2.2424) construction
  line L220 (-35.1783, -2.2424) -> (-36.3657, -2.4242) construction
  line L221 (-34.9896, -6.8076) -> (-35.4745, -6.2979) construction
  line L222 (-35.4745, -6.2979) -> (-35.4607, -6.1299) construction
  line L223 (-35.4607, -6.1299) -> (-35.4001, -5.6064) construction
  line L224 (-35.4001, -5.6064) -> (-35.2926, -5.1711) construction
  line L225 (-35.1301, -4.7854) -> (-34.8987, -4.4108) construction
  line L226 (-34.8987, -4.4108) -> (-34.5626, -4.0333) construction
  line L227 (-34.5626, -4.0333) -> (-34.1176, -3.6656) construction
  line L228 (-35.2926, -5.1711) -> (-35.1301, -4.7854) construction
  line L229 (-33.0624, -2.1129) -> (-33.9936, -2.1294) construction
  line L230 (-34.1176, -3.6656) -> (-33.4591, -3.2689) construction
  line L231 (-33.4591, -3.2689) -> (-32.7445, -2.9666) construction
  line L232 (-32.7445, -2.9666) -> (-31.8408, -2.6994) construction
  line L233 (-32.0777, -2.1456) -> (-32.9814, -2.1264) construction
  line L234 (-46.1779, -19.2709) -> (-46.8363, -19.6676) construction
  line L235 (-46.8363, -19.6676) -> (-47.6067, -19.9962) construction
  line L236 (-48.2715, -20.8169) -> (-46.4367, -20.8169) construction
  line L237 (-47.6067, -19.9962) -> (-48.5103, -20.2635) construction
  line L238 (-49.087, -20.7123) -> (-48.2715, -20.8169) construction
  line L239 (-49.7372, -20.5552) -> (-49.087, -20.7123) construction
  line L240 (-49.7785, -20.5194) -> (-49.7372, -20.5552) construction
  line L241 (-49.5738, -20.4784) -> (-49.7785, -20.5194) construction
  line L242 (-48.5103, -20.2635) -> (-49.5738, -20.4784) construction
  line L243 (-31.2623, -2.2503) -> (-32.0777, -2.1456) construction
  line L244 (-31.8408, -2.6994) -> (-30.7774, -2.4845) construction
  line L245 (-30.7774, -2.4845) -> (-30.5707, -2.4432) construction
  line L246 (-30.6121, -2.4074) -> (-31.2623, -2.2503) construction
  line L247 (-30.5707, -2.4432) -> (-30.6121, -2.4074) construction
  line L248 (-47.065, -10.5512) -> (-42.1418, -10.5512)
  arc A10 (-42.241, -12.2924) -> (-42.1418, -10.5512) centre (-40.2966, -11.5297) ccw
  line L249 (-42.241, -12.2924) -> (-47.0788, -12.2924)
  arc A11 (-47.0788, -12.2924) -> (-44.8775, -16.7004) centre (-40.0405, -11.5313) ccw
  arc A12 (-46.8363, -19.6676) -> (-44.8775, -16.7004) centre (-48.0188, -16.7568) ccw
  arc A13 (-49.7785, -20.5194) -> (-46.8363, -19.6676) centre (-51.3913, -9.4412) ccw
  arc A14 (-49.7785, -20.5194) -> (-37.7253, -18.1005) centre (-46.9626, -3.3112) ccw
  arc A15 (-37.7253, -18.1005) -> (-35.4607, -6.1299) centre (-40.5372, -11.369) ccw
  arc A16 (-33.4591, -3.2689) -> (-35.4607, -6.1299) centre (-32.1793, -6.2949) ccw
  arc A17 (-30.5707, -2.4432) -> (-33.4591, -3.2689) centre (-28.9394, -13.6143) ccw
  arc A18 (-30.5707, -2.4432) -> (-42.58, -4.7635) centre (-33.4703, -19.6741) ccw
  arc A19 (-42.58, -4.7635) -> (-47.065, -10.5512) centre (-40.0542, -11.3524) ccw
  line L250 (-50.6216, -28.8837) -> (-40.6216, -28.8837)
  line L251 (-50.6216, -28.8837) -> (-40.6216, -28.8837) construction
  line L252 (5.0379, -20.669) -> (3.8505, -20.4872) construction
  line L253 (4.8161, -17.305) -> (4.9235, -17.7402) construction
  line L254 (4.9235, -17.7402) -> (5.0861, -18.126) construction
  line L255 (4.7417, -16.6134) -> (4.7555, -16.7815) construction
  line L256 (4.7555, -16.7815) -> (4.8161, -17.305) construction
  line L257 (5.0861, -18.126) -> (5.3175, -18.5006) construction
  line L258 (5.3175, -18.5006) -> (5.6536, -18.8781) construction
  line L259 (6.2225, -20.7819) -> (5.0379, -20.669) construction
  line L260 (5.6536, -18.8781) -> (6.0986, -19.2458) construction
  line L261 (6.0986, -19.2458) -> (6.757, -19.6425) construction
  arc A20 (4.7555, -16.7815) -> (6.757, -19.6425) centre (8.0368, -16.6165) ccw
  line L262 (5.2266, -16.1038) -> (4.7417, -16.6134) construction
  line L263 (6.0393, -14.9466) -> (5.6619, -15.5472) construction
  line L264 (6.3589, -14.3047) -> (6.0393, -14.9466) construction
  line L265 (5.6619, -15.5472) -> (5.2266, -16.1038) construction
  line L266 (-3.3198, -17.7016) -> (-3.7661, -17.4261) construction
  line L267 (-3.7661, -17.4261) -> (-4.1904, -17.1175) construction
  line L268 (-2.8515, -17.944) -> (-3.3198, -17.7016) construction
  line L269 (-2.3638, -18.1479) -> (-2.8515, -17.944) construction
  line L270 (-2.2067, -18.1953) -> (-2.372, -18.0796) construction
  line L271 (-4.1904, -17.1175) -> (-4.9646, -16.4122) construction
  line L272 (-4.9646, -16.4122) -> (-5.6285, -15.594) construction
  line L273 (-5.6285, -15.594) -> (-5.9123, -15.1504) construction
  line L274 (-5.9123, -15.1504) -> (-6.1658, -14.682) construction
  line L275 (-6.1658, -14.682) -> (-6.3834, -14.1944) construction
  line L276 (-6.3834, -14.1944) -> (-6.568, -13.6847) construction
  line L277 (-6.568, -13.6847) -> (-6.7112, -13.1613) construction
  line L278 (-6.7112, -13.1613) -> (-6.8268, -12.553) construction
  line L279 (-6.8268, -12.553) -> (-6.8489, -12.3602) construction
  line L280 (-6.8489, -12.3602) -> (-1.9257, -12.3602) construction
  arc A21 (-6.8489, -12.3602) -> (-2.3638, -18.1479) centre (0.1619, -11.559) ccw
  line L281 (-1.9257, -12.3602) -> (-1.8292, -12.542) construction
  line L282 (-1.8292, -12.542) -> (-1.5758, -12.845) construction
  line L283 (-1.5758, -12.845) -> (-1.2727, -13.0985) construction
  line L284 (-1.2727, -13.0985) -> (-0.9228, -13.2858) construction
  line L285 (-0.9228, -13.2858) -> (-0.5371, -13.4071) construction
  line L286 (-0.5371, -13.4071) -> (-0.1239, -13.4484) construction
  arc A22 (-1.9257, -12.3602) -> (-2.0248, -10.619) centre (-0.0805, -11.3816) ccw
  line L287 (1.7688, -12.1921) -> (1.89, -11.8064) construction
  line L288 (1.89, -11.8064) -> (1.9314, -11.3931) construction
  line L289 (1.9314, -11.3931) -> (1.89, -10.9799) construction
  line L290 (0.2894, -9.382) -> (-0.1239, -9.3406) construction
  line L291 (1.89, -10.9799) -> (1.7688, -10.5942) construction
  line L292 (0.6751, -9.5004) -> (0.2894, -9.382) construction
  line L293 (1.7688, -10.5942) -> (1.5815, -10.2443) construction
  line L294 (1.5815, -10.2443) -> (1.328, -9.9412) construction
  line L295 (1.025, -9.6905) -> (0.6751, -9.5004) construction
  line L296 (1.328, -9.9412) -> (1.025, -9.6905) construction
  line L297 (-2.6748, -2.6372) -> (-1.5397, -2.9457) construction
  arc A23 (2.4908, -4.8109) -> (-9.5623, -2.392) centre (-6.7465, -19.6002) ccw
  line L298 (-3.8457, -2.3892) -> (-2.6748, -2.6372) construction
  line L299 (-4.733, -5.5552) -> (-4.8377, -5.1199) construction
  line L300 (-4.8377, -5.1199) -> (-5.0002, -4.7342) construction
  line L301 (-5.0331, -2.2074) -> (-3.8457, -2.3892) construction
  line L302 (-4.6614, -6.2109) -> (-4.6724, -6.0787) construction
  line L303 (-5.0002, -4.7342) -> (-5.2317, -4.3596) construction
  line L304 (-5.2317, -4.3596) -> (-5.5678, -3.9821) construction
  line L305 (-5.5678, -3.9821) -> (-5.9617, -3.6405) construction
  line L306 (-6.2205, -2.0944) -> (-5.0331, -2.2074) construction
  arc A24 (-4.6614, -6.2109) -> (-6.6202, -3.2438) centre (-7.8027, -6.1546) ccw
  line L307 (-4.6724, -6.0787) -> (-4.733, -5.5552) construction
  line L308 (-6.8626, -10.619) -> (-6.7552, -9.9275) construction
  line L309 (-6.7552, -9.9275) -> (-6.5651, -9.2139) construction
  line L310 (-6.5651, -9.2139) -> (-6.3061, -8.5334) construction
  line L311 (-6.3061, -8.5334) -> (-5.981, -7.886) construction
  line L312 (-2.0248, -10.619) -> (-6.8626, -10.619) construction
  line L313 (-5.981, -7.886) -> (-5.5953, -7.2826) construction
  line L314 (-5.5953, -7.2826) -> (-5.1545, -6.7234) construction
  line L315 (-5.1545, -6.7234) -> (-4.6614, -6.2109) construction
  line L316 (-2.0248, -10.619) -> (-6.8626, -10.619)
  arc A25 (-4.6614, -6.2109) -> (-6.8626, -10.619) centre (0.1756, -11.3801) ccw
  line L317 (-1.5397, -2.9457) -> (-0.457, -3.3094) construction
  line L318 (-0.457, -3.3094) -> (0.5541, -3.7199) construction
  line L319 (0.5541, -3.7199) -> (1.477, -4.1745) construction
  line L320 (2.2925, -4.6676) -> (2.4908, -4.8109) construction
  line L321 (1.477, -4.1745) -> (2.2925, -4.6676) construction
  line L322 (-0.1239, -9.3406) -> (-0.5371, -9.382) construction
  line L323 (-0.9228, -9.5004) -> (-1.2727, -9.6905) construction
  line L324 (-2.0166, -10.5942) -> (-2.0248, -10.619) construction
  line L325 (-1.8292, -10.2443) -> (-2.0166, -10.5942) construction
  line L326 (-1.5758, -9.9412) -> (-1.8292, -10.2443) construction
  line L327 (-1.2727, -9.6905) -> (-1.5758, -9.9412) construction
  line L328 (-0.5371, -9.382) -> (-0.9228, -9.5004) construction
  line L329 (-0.1239, -13.4484) -> (0.2894, -13.4071) construction
  line L330 (0.2894, -13.4071) -> (0.6751, -13.2858) construction
  line L331 (0.6751, -13.2858) -> (1.025, -13.0985) construction
  line L332 (1.025, -13.0985) -> (1.328, -12.845) construction
  line L333 (1.328, -12.845) -> (1.5815, -12.542) construction
  line L334 (1.5815, -12.542) -> (1.7688, -12.1921) construction
  line L335 (-5.9617, -3.6405) -> (-6.6202, -3.2438) construction
  line L336 (-6.6202, -3.2438) -> (-7.3905, -2.9152) construction
  line L337 (-7.3905, -2.9152) -> (-8.2942, -2.6479) construction
  line L338 (-8.0553, -2.0944) -> (-6.2205, -2.0944) construction
  line L339 (-8.2942, -2.6479) -> (-9.3576, -2.433) construction
  line L340 (-8.8708, -2.1991) -> (-8.0553, -2.0944) construction
  line L341 (-9.3576, -2.433) -> (-9.5623, -2.392) construction
  line L342 (-9.5623, -2.392) -> (-9.521, -2.3562) construction
  line L343 (-9.521, -2.3562) -> (-8.8708, -2.1991) construction
  arc A26 (-6.6202, -3.2438) -> (-9.5623, -2.392) centre (-11.1752, -13.4701) ccw
  line L344 (6.2321, -8.2767) -> (6.447, -8.7616) construction
  line L345 (5.7032, -7.3676) -> (6.2321, -8.2767) construction
  line L346 (5.0502, -6.5548) -> (5.7032, -7.3676) construction
  line L347 (4.2899, -5.8495) -> (5.0502, -6.5548) construction
  line L348 (3.4331, -5.2627) -> (4.2899, -5.8495) construction
  line L349 (2.4908, -4.8109) -> (2.9702, -5.0203) construction
  line L350 (2.9702, -5.0203) -> (3.4331, -5.2627) construction
  line L351 (6.447, -8.7616) -> (6.6261, -9.2658) construction
  line L352 (6.6261, -9.2658) -> (6.7694, -9.7837) construction
  line L353 (6.7694, -9.7837) -> (6.8713, -10.321) construction
  arc A27 (4.7555, -16.7815) -> (2.4908, -4.8109) centre (-0.321, -11.5424) ccw
  line L354 (6.8713, -10.321) -> (6.9347, -10.8692) construction
  line L355 (6.9347, -10.8692) -> (6.9567, -11.4312) construction
  line L356 (6.9567, -11.4312) -> (6.9181, -12.1889) construction
  line L357 (6.9181, -12.1889) -> (6.8024, -12.9245) construction
  line L358 (6.8024, -12.9245) -> (6.6151, -13.6297) construction
  line L359 (6.6151, -13.6297) -> (6.3589, -14.3047) construction
  line L360 (6.757, -19.6425) -> (7.4717, -19.9448) construction
  line L361 (7.1537, -20.7985) -> (6.2225, -20.7819) construction
  line L362 (7.4717, -19.9448) -> (8.3753, -20.212) construction
  line L363 (8.1384, -20.7658) -> (7.2348, -20.785) construction
  arc A28 (6.757, -19.6425) -> (9.6454, -20.4682) centre (11.2767, -9.2971) ccw
  line L364 (8.3753, -20.212) -> (9.4388, -20.4269) construction
  line L365 (8.9539, -20.6611) -> (8.1384, -20.7658) construction
  line L366 (9.4388, -20.4269) -> (9.6454, -20.4682) construction
  line L367 (9.6454, -20.4682) -> (9.6041, -20.504) construction
  line L368 (9.6041, -20.504) -> (8.9539, -20.6611) construction
  line L369 (3.8505, -20.4872) -> (2.6796, -20.2392) construction
  arc A29 (-2.3638, -18.1479) -> (9.6454, -20.4682) centre (6.7458, -3.2373) ccw
  line L370 (2.6796, -20.2392) -> (1.5445, -19.9306) construction
  line L371 (1.6255, -19.9172) -> (0.5428, -19.5535) construction
  line L372 (0.5428, -19.5535) -> (-0.4683, -19.143) construction
  line L373 (-0.4683, -19.143) -> (-1.3912, -18.6885) construction
  line L374 (-1.3912, -18.6885) -> (-2.2067, -18.1953) construction
  line L375 (-6.8489, -12.3602) -> (-1.9257, -12.3602)
  point P0 (0, 0)
  dimension "d80" = 30
  dimension "d81" = 90
  dimension "d84" = 10
  dimension "d85" = 0
extrude "Extrusión16" cut sketch "Boceto14" against normal blind 2 contours A20 A28 A29 A21 L375 A22 L316 A25 A24 A26 A23 A27
fillet "Empalme3" radius 9.25 1 edges at (-13.875, -39.25, 5.5)
chamfer "Chamfer1" distance 1 angle 30 2 edges at (-9.025, -30, 11) (-9.025, -30, 0) measured on face at (-0.7846, -27.8526, 3.6667)
properties part number "G004162_Cycl_soporteYfrenteIzquierda"
